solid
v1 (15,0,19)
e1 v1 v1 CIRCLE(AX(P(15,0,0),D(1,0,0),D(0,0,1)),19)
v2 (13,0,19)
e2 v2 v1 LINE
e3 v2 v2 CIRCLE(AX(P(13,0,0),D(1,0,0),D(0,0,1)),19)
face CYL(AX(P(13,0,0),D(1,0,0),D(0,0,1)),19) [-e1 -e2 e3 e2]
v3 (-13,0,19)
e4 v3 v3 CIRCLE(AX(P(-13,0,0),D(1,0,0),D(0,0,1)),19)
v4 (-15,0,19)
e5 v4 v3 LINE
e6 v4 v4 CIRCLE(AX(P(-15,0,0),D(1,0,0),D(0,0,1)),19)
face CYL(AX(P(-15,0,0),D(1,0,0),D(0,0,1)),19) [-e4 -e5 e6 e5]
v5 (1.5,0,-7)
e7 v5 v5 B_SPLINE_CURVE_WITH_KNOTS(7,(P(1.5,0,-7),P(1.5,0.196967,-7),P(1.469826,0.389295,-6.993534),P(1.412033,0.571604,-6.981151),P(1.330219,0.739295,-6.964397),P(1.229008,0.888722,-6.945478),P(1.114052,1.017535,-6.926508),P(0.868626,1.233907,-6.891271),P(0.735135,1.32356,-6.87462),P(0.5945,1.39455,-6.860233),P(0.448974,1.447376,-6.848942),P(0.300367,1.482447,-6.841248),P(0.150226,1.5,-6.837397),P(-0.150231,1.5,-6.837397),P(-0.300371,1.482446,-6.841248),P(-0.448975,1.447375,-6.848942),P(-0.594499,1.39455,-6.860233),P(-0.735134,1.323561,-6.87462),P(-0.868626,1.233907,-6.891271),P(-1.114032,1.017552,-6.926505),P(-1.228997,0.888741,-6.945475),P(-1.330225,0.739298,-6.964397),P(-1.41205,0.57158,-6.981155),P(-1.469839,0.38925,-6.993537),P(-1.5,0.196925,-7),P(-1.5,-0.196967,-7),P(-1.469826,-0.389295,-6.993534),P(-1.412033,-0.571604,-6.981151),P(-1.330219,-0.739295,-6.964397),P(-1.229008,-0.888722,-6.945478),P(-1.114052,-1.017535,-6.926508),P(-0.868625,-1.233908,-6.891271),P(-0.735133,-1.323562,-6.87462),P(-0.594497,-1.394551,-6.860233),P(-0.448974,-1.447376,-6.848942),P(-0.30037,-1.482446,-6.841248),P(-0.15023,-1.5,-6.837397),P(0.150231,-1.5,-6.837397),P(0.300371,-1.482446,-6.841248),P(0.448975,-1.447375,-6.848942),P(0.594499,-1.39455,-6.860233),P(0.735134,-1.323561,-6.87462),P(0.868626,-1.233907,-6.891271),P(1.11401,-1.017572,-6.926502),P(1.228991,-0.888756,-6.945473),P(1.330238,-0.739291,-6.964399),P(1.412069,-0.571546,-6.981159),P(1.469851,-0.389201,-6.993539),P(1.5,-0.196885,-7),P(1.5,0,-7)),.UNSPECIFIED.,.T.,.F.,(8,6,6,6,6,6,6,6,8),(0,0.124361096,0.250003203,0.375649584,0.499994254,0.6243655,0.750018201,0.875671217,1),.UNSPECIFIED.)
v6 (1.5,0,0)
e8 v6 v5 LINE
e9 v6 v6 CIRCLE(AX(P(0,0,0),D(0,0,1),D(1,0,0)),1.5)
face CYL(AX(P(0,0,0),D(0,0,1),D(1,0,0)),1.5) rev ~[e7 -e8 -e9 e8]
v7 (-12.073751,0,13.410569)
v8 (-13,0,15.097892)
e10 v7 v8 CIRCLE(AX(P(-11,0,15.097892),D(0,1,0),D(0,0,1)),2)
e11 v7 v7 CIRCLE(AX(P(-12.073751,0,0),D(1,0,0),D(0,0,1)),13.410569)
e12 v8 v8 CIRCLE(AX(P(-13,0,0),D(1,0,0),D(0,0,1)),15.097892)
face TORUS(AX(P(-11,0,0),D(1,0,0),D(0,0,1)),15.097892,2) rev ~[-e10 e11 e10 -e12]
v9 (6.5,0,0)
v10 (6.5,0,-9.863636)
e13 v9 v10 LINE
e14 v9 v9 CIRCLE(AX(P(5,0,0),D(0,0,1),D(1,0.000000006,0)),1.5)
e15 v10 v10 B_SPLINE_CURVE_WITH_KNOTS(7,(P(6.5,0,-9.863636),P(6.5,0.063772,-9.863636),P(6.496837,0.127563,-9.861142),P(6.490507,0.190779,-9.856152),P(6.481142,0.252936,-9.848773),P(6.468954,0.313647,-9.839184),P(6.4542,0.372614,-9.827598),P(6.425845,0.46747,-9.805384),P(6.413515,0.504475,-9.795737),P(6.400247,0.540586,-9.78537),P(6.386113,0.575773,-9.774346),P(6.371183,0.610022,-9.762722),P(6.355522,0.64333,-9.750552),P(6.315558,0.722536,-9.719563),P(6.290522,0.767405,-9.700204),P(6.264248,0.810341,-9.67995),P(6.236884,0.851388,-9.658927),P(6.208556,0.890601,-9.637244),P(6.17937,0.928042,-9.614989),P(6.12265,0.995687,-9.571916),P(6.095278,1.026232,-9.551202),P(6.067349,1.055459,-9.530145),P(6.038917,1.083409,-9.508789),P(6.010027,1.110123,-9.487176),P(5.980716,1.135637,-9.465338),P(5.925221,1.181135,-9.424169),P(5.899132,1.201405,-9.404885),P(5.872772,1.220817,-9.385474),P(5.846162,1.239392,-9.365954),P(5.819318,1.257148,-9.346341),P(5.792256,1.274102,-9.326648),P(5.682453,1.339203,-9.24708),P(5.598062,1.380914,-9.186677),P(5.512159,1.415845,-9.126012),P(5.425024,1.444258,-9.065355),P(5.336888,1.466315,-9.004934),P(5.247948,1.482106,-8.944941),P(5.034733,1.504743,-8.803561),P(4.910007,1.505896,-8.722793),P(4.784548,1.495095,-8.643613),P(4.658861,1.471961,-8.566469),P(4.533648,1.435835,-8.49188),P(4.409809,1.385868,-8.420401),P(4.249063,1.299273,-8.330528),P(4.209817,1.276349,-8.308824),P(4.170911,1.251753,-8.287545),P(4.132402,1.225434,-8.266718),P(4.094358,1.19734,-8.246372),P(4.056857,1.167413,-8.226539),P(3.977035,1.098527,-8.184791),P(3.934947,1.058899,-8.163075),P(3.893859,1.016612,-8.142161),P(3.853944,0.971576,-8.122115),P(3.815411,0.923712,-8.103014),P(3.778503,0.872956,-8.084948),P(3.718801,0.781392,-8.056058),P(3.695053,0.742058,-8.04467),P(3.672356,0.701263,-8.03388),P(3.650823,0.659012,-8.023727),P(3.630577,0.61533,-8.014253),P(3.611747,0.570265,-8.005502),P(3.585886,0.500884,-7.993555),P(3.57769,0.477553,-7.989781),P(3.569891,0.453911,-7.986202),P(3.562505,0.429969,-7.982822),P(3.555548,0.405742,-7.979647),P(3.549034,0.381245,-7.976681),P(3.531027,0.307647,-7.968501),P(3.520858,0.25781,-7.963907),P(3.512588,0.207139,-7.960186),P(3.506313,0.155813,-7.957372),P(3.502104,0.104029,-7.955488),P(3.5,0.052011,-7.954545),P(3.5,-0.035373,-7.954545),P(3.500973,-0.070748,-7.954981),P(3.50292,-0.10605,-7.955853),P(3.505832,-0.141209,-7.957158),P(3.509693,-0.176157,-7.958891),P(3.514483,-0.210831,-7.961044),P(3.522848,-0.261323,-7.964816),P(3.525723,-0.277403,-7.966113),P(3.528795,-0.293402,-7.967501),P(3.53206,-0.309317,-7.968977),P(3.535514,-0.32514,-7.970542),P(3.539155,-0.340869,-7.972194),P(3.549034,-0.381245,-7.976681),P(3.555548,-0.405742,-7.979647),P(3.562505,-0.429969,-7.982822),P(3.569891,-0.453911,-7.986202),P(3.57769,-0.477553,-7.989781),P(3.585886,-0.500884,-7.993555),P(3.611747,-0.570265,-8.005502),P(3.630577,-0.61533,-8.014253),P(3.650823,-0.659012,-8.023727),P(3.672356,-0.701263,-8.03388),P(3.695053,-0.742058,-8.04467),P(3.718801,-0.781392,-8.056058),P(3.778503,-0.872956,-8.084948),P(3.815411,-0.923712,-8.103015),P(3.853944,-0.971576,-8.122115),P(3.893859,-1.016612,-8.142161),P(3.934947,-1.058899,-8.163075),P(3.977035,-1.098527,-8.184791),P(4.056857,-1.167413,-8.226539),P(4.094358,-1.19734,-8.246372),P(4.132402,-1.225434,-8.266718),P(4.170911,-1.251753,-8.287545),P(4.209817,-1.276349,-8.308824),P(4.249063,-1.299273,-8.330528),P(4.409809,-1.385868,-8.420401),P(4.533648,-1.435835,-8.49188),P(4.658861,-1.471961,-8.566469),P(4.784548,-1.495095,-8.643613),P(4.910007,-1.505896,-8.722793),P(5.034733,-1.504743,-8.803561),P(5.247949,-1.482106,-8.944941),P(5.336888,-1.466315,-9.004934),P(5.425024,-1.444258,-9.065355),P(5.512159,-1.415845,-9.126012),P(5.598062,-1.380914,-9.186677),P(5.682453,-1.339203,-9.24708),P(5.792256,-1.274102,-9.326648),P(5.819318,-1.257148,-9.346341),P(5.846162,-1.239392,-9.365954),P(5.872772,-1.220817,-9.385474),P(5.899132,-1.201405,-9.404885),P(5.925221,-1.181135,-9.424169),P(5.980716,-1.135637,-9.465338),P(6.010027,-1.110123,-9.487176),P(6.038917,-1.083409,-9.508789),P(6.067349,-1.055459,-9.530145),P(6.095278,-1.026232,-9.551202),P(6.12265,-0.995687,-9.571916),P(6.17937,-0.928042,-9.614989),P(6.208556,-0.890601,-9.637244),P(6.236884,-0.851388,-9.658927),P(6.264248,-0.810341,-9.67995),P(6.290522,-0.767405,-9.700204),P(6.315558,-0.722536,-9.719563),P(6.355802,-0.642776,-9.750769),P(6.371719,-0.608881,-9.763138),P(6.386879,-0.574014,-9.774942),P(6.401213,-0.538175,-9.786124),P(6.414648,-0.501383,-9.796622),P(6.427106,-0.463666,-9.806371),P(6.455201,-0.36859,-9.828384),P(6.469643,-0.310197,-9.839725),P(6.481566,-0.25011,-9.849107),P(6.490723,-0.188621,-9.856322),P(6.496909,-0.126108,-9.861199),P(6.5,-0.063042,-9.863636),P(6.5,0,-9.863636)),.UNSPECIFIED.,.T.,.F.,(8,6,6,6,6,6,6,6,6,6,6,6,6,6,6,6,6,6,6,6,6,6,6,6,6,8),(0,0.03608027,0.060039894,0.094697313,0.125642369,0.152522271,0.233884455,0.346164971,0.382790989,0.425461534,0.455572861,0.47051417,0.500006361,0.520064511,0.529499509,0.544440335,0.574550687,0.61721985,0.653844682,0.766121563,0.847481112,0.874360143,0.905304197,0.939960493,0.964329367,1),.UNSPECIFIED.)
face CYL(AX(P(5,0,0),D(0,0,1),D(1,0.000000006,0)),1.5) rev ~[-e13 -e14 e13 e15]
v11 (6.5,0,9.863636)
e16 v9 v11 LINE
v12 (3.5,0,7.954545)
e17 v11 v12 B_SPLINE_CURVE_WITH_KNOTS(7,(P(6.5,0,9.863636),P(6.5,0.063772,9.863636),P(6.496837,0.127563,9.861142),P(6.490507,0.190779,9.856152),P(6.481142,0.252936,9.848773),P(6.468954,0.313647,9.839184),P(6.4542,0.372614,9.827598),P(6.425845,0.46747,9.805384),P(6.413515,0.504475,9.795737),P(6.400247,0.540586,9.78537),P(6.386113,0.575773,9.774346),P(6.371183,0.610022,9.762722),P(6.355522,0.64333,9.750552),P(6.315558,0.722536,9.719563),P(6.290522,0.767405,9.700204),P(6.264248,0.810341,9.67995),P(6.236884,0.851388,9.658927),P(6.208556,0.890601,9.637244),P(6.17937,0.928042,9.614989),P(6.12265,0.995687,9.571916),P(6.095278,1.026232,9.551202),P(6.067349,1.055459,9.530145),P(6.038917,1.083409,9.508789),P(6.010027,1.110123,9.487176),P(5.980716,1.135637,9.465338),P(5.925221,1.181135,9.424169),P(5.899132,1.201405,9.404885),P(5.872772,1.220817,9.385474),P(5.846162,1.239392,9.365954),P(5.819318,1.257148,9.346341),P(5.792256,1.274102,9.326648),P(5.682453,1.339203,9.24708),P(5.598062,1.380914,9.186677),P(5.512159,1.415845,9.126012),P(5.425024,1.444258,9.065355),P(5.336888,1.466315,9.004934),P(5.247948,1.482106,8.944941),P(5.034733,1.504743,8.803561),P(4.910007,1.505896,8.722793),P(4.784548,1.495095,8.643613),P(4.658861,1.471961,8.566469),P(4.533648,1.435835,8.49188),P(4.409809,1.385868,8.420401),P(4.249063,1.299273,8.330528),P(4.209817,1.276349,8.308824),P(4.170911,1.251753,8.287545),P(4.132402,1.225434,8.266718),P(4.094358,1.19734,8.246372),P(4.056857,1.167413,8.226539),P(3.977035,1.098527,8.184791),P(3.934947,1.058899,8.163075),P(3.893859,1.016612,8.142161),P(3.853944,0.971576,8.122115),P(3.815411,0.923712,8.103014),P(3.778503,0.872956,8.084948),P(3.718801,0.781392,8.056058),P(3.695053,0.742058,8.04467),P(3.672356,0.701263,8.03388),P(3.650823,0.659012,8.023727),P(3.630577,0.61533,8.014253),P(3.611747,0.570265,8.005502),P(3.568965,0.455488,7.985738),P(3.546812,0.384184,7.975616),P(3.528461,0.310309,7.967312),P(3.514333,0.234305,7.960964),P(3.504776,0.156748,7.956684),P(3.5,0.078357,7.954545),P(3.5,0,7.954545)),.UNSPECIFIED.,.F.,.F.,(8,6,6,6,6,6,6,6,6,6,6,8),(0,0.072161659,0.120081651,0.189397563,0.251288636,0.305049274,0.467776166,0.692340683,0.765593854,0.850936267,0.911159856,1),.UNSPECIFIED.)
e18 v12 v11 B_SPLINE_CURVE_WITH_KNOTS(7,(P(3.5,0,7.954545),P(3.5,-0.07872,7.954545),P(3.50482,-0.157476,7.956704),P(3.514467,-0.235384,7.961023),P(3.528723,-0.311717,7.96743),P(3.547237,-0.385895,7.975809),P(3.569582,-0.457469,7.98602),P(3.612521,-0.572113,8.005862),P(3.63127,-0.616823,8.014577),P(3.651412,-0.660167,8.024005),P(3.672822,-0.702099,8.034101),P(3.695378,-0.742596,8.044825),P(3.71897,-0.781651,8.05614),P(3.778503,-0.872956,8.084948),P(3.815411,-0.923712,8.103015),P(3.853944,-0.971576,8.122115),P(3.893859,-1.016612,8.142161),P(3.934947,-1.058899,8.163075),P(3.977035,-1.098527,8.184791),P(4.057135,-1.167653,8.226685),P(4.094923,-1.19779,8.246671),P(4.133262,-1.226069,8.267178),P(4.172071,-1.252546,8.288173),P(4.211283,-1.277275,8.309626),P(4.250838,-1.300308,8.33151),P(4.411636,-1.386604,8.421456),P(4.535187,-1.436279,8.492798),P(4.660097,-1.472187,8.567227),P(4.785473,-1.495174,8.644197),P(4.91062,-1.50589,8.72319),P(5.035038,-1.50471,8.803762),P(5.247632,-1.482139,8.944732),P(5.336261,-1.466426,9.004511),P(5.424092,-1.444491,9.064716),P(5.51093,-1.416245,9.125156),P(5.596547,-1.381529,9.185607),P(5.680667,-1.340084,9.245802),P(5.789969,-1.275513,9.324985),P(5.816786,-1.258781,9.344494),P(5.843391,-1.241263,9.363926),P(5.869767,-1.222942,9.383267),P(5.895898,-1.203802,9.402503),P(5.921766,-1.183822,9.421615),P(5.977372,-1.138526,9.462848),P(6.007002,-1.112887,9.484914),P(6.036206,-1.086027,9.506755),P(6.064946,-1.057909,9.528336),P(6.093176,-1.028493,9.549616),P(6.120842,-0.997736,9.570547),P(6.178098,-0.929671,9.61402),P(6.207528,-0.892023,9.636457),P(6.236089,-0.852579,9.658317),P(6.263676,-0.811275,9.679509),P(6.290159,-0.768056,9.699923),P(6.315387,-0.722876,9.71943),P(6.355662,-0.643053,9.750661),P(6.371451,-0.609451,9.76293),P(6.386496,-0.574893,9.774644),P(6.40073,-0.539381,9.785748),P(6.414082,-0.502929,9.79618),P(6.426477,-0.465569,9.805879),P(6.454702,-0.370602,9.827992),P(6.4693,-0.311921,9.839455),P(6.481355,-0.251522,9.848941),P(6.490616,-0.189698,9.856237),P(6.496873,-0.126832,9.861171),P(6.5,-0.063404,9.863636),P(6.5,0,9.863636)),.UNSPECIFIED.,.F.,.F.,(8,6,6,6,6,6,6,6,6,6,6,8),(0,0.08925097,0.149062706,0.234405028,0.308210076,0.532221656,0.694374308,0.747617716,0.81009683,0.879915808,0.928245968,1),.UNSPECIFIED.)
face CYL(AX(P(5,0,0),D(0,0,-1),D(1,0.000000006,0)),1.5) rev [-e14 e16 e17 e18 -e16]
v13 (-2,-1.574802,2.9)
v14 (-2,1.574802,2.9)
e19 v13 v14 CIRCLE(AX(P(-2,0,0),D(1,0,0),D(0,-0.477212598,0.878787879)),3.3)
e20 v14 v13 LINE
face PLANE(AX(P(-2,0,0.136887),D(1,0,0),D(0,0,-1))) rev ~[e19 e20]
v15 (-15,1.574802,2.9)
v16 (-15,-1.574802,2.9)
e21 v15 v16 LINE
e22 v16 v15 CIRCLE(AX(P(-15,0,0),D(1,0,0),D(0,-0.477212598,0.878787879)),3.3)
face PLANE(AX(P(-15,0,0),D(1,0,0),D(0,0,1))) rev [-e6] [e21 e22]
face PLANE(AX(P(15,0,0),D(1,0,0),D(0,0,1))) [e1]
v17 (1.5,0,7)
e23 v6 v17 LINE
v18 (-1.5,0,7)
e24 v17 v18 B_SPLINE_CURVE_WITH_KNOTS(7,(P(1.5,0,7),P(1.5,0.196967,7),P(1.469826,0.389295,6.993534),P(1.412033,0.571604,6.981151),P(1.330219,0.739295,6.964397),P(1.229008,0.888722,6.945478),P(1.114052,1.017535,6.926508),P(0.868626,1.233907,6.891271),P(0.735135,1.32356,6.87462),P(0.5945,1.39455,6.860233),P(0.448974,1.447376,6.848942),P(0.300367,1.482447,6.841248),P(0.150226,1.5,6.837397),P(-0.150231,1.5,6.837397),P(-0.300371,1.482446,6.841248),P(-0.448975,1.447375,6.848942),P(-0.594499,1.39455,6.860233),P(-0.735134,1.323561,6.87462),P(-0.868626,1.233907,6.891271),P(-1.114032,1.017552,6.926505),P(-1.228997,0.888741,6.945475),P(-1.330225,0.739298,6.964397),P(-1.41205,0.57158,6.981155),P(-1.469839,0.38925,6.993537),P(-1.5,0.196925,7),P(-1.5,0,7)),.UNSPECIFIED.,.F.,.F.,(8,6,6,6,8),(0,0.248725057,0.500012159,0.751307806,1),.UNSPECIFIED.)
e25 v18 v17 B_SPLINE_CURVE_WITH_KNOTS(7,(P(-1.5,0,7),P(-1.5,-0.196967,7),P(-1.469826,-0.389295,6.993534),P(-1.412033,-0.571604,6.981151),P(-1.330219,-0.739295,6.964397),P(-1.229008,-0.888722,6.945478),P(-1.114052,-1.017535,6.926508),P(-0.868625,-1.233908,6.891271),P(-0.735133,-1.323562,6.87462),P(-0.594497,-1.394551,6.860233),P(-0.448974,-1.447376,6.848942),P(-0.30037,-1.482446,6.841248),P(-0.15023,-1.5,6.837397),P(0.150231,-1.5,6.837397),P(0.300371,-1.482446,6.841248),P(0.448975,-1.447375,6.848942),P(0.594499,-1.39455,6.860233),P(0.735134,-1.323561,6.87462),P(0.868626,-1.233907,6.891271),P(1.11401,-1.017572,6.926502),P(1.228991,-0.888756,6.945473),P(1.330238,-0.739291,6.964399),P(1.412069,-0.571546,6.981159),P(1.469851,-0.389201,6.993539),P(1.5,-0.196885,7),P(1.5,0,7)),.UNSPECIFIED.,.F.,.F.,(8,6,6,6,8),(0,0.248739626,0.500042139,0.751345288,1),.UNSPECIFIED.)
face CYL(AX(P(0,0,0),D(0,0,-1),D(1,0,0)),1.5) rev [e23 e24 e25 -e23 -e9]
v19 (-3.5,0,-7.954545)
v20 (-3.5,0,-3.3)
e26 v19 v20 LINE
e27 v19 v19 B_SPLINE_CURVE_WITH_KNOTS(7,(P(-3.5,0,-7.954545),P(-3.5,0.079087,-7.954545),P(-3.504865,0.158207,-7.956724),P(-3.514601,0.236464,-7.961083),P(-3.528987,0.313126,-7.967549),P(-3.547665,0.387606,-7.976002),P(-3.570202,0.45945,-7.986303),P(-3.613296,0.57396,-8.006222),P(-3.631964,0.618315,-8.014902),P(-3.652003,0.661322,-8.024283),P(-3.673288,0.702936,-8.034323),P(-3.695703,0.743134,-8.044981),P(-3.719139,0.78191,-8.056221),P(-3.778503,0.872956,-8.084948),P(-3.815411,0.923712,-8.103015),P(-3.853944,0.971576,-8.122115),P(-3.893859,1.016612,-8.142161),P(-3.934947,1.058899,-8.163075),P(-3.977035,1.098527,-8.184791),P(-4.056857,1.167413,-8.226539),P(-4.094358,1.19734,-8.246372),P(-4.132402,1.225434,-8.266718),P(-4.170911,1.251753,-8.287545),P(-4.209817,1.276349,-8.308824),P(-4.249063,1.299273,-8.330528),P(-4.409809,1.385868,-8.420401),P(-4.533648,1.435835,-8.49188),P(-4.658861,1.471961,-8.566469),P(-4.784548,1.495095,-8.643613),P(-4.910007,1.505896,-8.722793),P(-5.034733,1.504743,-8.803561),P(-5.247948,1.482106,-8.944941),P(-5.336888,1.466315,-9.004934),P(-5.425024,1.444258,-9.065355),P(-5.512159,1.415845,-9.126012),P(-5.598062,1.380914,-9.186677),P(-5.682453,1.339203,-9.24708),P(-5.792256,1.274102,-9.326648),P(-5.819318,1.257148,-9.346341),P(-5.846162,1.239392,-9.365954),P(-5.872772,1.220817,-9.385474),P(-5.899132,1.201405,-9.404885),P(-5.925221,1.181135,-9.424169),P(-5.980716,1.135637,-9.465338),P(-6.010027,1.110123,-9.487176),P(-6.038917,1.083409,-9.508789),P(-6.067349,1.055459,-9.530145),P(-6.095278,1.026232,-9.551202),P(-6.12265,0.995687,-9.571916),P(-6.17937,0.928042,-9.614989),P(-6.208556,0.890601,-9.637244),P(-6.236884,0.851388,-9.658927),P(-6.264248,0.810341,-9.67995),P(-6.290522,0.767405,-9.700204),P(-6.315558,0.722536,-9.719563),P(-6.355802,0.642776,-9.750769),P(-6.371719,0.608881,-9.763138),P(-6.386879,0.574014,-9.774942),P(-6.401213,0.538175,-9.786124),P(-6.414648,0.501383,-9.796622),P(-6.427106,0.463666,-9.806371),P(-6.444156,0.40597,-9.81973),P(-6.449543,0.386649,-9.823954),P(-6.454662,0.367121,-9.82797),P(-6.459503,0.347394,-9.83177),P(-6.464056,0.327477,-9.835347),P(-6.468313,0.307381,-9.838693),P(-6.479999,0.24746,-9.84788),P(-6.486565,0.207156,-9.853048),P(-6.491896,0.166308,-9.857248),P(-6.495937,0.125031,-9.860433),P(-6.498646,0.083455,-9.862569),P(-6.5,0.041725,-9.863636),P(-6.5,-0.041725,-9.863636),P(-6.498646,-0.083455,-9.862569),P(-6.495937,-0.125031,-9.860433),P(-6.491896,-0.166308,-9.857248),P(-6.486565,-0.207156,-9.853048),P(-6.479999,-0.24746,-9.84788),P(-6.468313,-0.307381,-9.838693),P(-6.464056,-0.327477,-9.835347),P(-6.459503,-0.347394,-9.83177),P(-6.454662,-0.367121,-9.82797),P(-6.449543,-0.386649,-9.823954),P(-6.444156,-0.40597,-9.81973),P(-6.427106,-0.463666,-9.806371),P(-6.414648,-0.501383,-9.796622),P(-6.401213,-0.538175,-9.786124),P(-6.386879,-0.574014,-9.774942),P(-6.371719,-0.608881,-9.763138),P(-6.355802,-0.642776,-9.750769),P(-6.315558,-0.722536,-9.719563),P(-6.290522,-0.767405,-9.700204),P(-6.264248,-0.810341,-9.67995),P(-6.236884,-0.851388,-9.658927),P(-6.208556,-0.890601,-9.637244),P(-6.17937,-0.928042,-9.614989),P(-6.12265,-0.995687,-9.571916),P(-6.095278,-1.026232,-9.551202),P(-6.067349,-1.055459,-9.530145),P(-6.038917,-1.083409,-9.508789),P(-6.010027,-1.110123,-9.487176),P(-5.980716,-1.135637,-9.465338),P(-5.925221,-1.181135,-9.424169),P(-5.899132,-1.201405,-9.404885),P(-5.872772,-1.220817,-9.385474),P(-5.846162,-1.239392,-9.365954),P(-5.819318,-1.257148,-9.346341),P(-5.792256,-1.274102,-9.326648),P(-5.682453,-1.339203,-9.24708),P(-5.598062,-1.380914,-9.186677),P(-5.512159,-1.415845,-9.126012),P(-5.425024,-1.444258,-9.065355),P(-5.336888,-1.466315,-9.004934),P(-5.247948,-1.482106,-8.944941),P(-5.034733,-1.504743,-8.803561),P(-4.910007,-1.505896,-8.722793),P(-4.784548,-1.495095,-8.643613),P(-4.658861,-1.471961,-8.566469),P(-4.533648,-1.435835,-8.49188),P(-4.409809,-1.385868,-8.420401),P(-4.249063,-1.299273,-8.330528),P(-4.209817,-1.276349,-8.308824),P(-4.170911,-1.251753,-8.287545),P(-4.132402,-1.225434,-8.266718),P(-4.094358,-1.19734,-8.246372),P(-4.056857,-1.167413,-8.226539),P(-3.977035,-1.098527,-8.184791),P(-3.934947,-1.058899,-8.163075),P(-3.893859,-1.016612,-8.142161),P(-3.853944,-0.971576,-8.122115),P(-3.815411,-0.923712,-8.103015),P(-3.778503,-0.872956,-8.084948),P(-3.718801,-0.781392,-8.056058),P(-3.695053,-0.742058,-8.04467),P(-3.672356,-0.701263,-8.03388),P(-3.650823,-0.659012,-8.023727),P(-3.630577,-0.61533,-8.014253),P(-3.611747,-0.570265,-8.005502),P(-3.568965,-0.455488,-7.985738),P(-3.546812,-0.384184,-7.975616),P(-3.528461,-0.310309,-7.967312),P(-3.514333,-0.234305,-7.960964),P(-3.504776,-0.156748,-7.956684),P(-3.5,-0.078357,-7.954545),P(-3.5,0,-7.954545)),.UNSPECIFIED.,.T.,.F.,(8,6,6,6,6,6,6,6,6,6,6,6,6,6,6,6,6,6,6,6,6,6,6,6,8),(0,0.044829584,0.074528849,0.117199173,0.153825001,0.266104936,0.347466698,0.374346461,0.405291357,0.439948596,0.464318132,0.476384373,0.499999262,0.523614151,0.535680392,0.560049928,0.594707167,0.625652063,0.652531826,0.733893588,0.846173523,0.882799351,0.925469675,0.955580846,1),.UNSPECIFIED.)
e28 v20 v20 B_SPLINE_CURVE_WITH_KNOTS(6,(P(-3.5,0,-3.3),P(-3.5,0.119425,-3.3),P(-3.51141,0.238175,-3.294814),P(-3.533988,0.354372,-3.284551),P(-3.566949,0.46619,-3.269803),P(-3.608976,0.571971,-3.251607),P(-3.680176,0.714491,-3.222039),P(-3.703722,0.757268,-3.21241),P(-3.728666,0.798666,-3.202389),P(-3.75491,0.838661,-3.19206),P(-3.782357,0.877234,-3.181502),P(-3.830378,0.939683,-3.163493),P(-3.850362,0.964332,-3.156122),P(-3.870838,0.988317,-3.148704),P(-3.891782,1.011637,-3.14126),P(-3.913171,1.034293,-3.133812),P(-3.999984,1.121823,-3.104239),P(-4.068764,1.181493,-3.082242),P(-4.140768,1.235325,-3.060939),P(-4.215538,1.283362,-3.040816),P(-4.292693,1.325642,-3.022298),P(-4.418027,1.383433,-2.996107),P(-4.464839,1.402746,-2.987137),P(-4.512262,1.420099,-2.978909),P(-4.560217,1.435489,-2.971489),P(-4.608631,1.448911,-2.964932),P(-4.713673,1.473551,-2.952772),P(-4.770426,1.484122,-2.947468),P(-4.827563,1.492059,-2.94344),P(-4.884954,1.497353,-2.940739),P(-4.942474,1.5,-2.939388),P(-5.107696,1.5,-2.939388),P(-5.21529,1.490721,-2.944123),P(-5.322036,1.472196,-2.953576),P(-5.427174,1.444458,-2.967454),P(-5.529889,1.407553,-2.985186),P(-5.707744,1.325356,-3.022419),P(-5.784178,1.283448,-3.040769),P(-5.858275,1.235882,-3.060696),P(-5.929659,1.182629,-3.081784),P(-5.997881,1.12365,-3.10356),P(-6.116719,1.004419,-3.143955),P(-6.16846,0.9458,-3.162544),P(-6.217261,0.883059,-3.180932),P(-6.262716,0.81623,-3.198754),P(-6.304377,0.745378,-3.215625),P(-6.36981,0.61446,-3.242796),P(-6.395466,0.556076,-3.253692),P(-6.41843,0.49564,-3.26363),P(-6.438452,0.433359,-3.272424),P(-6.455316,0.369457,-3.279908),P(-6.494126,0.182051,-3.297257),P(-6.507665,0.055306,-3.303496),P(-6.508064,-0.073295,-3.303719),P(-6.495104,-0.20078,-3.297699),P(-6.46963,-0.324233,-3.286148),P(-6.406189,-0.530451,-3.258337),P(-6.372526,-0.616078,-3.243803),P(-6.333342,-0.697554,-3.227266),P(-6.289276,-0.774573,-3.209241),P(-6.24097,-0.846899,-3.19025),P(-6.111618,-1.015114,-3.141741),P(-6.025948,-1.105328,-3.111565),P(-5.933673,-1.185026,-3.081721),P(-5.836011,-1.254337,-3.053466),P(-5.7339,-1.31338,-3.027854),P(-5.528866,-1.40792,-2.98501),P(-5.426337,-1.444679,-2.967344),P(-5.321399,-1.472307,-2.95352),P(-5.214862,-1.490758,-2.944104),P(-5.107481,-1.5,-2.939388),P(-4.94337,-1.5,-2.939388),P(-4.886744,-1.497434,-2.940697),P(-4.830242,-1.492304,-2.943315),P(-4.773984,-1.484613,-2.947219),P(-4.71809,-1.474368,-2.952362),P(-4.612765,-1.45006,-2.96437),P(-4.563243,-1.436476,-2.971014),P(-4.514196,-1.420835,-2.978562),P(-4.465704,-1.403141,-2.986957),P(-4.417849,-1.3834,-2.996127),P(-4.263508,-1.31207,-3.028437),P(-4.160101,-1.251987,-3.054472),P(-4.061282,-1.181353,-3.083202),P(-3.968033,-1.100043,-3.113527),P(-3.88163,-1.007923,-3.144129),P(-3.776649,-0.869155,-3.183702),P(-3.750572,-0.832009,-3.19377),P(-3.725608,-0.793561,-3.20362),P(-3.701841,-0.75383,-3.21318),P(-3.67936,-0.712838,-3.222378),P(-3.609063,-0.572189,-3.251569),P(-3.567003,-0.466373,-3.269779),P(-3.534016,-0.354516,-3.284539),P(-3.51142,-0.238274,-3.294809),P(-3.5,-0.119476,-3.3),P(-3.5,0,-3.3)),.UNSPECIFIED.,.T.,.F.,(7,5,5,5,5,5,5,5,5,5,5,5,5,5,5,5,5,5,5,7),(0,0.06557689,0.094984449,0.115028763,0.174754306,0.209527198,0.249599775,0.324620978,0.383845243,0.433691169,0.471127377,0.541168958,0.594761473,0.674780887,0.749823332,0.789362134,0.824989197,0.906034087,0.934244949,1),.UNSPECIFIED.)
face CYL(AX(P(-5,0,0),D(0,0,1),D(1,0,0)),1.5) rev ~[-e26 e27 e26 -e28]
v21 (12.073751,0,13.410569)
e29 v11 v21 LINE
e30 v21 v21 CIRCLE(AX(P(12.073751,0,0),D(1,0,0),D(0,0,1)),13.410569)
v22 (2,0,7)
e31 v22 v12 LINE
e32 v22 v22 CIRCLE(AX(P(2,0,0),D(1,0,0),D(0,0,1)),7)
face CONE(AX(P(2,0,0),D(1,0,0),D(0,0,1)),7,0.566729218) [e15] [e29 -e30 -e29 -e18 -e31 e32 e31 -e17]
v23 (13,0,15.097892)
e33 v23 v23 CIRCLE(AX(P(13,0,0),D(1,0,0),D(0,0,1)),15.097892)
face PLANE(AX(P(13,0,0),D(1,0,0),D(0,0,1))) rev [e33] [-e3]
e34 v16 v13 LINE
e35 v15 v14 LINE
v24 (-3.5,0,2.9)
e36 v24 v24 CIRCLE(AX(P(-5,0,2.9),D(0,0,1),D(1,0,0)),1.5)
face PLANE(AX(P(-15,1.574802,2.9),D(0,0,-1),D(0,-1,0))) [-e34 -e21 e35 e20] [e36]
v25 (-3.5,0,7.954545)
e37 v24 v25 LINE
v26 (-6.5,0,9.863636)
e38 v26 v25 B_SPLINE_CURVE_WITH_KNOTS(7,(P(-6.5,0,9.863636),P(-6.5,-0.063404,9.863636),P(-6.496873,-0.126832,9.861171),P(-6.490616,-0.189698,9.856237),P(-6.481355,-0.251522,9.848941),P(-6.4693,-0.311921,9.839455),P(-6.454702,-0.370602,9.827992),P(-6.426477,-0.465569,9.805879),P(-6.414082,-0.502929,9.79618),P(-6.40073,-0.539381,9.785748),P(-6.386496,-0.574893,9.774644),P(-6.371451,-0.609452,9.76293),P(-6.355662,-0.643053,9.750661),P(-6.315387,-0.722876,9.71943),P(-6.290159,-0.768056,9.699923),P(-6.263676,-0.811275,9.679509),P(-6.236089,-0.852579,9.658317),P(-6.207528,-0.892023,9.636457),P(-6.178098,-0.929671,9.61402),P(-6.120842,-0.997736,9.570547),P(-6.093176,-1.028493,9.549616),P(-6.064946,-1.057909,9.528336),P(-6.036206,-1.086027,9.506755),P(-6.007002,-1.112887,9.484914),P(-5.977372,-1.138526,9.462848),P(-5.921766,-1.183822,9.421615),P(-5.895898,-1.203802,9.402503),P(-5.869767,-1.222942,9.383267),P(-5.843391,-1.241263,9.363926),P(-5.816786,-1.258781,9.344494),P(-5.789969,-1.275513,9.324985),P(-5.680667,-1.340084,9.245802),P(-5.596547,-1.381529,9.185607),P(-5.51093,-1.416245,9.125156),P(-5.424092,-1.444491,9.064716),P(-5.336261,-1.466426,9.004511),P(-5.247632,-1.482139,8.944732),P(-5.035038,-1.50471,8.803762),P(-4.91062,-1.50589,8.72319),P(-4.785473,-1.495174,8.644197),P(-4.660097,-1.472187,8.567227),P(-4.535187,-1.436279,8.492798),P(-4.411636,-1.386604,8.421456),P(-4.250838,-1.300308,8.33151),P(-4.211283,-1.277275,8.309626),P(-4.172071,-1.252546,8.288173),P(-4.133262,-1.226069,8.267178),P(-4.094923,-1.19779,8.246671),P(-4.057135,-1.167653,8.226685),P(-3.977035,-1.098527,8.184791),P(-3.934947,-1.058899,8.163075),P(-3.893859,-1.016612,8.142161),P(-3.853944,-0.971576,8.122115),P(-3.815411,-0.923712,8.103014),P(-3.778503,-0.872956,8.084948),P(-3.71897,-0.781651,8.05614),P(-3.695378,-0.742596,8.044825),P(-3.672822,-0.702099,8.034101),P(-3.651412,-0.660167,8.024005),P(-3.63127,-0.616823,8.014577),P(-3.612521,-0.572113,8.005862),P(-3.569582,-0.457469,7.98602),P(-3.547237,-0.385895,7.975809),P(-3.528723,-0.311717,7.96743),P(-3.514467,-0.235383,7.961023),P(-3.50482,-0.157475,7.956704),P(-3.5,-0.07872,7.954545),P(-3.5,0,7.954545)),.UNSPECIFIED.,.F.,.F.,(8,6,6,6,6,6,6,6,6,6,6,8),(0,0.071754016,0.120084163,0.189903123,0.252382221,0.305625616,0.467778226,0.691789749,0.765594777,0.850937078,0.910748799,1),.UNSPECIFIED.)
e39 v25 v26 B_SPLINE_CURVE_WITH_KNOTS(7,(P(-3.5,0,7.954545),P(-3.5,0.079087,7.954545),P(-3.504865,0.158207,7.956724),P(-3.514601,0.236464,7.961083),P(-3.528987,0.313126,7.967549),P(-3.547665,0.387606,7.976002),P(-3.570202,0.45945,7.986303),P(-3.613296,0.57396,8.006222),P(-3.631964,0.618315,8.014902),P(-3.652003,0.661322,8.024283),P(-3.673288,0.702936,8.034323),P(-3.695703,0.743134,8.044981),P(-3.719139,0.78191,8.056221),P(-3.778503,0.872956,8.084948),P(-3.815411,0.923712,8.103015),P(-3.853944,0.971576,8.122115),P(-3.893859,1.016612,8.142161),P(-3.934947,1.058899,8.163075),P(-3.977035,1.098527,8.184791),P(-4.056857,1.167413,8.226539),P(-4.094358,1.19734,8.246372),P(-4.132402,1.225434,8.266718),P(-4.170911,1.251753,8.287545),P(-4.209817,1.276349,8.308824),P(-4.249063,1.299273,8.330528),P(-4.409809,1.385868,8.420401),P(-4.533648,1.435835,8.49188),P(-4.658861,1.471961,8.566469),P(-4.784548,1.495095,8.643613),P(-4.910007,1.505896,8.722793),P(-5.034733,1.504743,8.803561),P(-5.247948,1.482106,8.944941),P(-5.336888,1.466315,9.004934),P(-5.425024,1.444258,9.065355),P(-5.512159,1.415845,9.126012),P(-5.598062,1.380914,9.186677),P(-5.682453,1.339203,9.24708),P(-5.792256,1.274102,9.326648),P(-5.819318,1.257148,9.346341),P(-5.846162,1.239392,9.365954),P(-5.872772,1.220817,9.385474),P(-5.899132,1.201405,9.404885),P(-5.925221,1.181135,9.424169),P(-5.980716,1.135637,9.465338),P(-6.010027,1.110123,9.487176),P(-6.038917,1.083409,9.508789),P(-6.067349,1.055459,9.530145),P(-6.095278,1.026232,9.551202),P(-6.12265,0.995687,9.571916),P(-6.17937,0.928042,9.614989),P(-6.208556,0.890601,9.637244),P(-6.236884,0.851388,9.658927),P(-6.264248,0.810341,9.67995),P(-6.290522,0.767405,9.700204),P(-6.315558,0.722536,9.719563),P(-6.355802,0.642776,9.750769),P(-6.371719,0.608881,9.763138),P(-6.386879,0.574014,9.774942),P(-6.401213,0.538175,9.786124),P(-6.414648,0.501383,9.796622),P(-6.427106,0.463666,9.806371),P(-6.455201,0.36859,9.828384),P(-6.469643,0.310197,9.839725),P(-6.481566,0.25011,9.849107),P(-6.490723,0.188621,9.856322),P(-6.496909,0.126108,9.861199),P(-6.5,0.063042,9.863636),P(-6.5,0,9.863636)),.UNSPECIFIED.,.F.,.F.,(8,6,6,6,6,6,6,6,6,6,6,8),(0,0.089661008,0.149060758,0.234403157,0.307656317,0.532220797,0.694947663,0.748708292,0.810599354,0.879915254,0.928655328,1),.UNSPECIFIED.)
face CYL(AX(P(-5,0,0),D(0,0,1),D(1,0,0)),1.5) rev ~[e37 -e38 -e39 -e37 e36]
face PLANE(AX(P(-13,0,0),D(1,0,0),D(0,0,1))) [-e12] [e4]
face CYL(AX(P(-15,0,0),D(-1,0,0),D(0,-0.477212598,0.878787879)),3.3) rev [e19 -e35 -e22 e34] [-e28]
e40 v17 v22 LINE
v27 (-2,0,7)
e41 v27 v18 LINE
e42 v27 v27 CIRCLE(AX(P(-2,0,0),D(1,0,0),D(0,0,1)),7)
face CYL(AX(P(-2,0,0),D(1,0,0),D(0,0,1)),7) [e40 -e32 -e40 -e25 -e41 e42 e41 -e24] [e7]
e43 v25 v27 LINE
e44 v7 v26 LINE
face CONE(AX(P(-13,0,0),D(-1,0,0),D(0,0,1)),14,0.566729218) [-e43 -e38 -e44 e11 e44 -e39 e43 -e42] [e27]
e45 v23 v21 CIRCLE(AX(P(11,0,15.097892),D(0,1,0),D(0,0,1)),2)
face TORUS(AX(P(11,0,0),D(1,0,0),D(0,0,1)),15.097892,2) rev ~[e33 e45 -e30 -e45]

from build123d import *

# Parameters (mm, degrees)
MOTOR_SHAFT_DEPTH  = 13
SKETCH4_R          = 1.5
CUT_EXTRUDE2_DEPTH = 17.5
FILLET1_R          = 2


with BuildPart() as part:
    # Sketch2 → Revolve1 (revolve)
    with BuildSketch(Plane.XY, mode=Mode.PRIVATE) as revolve1_sk:
        Polygon((13, 14), (13, 19), (15, 19), (15, 0), (-15, 0), (-15, 19), (-13, 19), (-13, 14), (-2, 7), (2, 7), align=None)
    revolve(revolve1_sk.sketch.rotate(Axis((0, 0, 0), (1, 0, 0)), 90), axis=Axis((0, 0, 0), (1, 0, 0)))

    # Sketch3 → motor shaft (cut)
    with BuildSketch(Plane.ZY.offset(15)):
        with BuildLine():
            Line((2.9, 1.574801575), (2.9, -1.574801575))
            ThreePointArc((2.9, -1.574801575), (-3.3, 0), (2.9, 1.574801575))
        make_face()
    extrude(amount=-MOTOR_SHAFT_DEPTH, mode=Mode.SUBTRACT)

    # Sketch4 → Cut-Extrude2 (cut, symmetric)
    with BuildSketch(Plane.XY):
        Circle(SKETCH4_R)
        with Locations(Location((5, 0, 0), (0, 0, 3.47e-07))):
            Circle(SKETCH4_R)
        with Locations((-5, 0)):
            Circle(SKETCH4_R)
    extrude(amount=CUT_EXTRUDE2_DEPTH, both=True, mode=Mode.SUBTRACT)

    # Fillet1
    fillet1_edges = [part.edges().sort_by_distance(p)[0] for p in [
        (13, 0, -14),
        (-13, 0, -14),
    ]]
    fillet(fillet1_edges, radius=FILLET1_R)


solid = part.part
